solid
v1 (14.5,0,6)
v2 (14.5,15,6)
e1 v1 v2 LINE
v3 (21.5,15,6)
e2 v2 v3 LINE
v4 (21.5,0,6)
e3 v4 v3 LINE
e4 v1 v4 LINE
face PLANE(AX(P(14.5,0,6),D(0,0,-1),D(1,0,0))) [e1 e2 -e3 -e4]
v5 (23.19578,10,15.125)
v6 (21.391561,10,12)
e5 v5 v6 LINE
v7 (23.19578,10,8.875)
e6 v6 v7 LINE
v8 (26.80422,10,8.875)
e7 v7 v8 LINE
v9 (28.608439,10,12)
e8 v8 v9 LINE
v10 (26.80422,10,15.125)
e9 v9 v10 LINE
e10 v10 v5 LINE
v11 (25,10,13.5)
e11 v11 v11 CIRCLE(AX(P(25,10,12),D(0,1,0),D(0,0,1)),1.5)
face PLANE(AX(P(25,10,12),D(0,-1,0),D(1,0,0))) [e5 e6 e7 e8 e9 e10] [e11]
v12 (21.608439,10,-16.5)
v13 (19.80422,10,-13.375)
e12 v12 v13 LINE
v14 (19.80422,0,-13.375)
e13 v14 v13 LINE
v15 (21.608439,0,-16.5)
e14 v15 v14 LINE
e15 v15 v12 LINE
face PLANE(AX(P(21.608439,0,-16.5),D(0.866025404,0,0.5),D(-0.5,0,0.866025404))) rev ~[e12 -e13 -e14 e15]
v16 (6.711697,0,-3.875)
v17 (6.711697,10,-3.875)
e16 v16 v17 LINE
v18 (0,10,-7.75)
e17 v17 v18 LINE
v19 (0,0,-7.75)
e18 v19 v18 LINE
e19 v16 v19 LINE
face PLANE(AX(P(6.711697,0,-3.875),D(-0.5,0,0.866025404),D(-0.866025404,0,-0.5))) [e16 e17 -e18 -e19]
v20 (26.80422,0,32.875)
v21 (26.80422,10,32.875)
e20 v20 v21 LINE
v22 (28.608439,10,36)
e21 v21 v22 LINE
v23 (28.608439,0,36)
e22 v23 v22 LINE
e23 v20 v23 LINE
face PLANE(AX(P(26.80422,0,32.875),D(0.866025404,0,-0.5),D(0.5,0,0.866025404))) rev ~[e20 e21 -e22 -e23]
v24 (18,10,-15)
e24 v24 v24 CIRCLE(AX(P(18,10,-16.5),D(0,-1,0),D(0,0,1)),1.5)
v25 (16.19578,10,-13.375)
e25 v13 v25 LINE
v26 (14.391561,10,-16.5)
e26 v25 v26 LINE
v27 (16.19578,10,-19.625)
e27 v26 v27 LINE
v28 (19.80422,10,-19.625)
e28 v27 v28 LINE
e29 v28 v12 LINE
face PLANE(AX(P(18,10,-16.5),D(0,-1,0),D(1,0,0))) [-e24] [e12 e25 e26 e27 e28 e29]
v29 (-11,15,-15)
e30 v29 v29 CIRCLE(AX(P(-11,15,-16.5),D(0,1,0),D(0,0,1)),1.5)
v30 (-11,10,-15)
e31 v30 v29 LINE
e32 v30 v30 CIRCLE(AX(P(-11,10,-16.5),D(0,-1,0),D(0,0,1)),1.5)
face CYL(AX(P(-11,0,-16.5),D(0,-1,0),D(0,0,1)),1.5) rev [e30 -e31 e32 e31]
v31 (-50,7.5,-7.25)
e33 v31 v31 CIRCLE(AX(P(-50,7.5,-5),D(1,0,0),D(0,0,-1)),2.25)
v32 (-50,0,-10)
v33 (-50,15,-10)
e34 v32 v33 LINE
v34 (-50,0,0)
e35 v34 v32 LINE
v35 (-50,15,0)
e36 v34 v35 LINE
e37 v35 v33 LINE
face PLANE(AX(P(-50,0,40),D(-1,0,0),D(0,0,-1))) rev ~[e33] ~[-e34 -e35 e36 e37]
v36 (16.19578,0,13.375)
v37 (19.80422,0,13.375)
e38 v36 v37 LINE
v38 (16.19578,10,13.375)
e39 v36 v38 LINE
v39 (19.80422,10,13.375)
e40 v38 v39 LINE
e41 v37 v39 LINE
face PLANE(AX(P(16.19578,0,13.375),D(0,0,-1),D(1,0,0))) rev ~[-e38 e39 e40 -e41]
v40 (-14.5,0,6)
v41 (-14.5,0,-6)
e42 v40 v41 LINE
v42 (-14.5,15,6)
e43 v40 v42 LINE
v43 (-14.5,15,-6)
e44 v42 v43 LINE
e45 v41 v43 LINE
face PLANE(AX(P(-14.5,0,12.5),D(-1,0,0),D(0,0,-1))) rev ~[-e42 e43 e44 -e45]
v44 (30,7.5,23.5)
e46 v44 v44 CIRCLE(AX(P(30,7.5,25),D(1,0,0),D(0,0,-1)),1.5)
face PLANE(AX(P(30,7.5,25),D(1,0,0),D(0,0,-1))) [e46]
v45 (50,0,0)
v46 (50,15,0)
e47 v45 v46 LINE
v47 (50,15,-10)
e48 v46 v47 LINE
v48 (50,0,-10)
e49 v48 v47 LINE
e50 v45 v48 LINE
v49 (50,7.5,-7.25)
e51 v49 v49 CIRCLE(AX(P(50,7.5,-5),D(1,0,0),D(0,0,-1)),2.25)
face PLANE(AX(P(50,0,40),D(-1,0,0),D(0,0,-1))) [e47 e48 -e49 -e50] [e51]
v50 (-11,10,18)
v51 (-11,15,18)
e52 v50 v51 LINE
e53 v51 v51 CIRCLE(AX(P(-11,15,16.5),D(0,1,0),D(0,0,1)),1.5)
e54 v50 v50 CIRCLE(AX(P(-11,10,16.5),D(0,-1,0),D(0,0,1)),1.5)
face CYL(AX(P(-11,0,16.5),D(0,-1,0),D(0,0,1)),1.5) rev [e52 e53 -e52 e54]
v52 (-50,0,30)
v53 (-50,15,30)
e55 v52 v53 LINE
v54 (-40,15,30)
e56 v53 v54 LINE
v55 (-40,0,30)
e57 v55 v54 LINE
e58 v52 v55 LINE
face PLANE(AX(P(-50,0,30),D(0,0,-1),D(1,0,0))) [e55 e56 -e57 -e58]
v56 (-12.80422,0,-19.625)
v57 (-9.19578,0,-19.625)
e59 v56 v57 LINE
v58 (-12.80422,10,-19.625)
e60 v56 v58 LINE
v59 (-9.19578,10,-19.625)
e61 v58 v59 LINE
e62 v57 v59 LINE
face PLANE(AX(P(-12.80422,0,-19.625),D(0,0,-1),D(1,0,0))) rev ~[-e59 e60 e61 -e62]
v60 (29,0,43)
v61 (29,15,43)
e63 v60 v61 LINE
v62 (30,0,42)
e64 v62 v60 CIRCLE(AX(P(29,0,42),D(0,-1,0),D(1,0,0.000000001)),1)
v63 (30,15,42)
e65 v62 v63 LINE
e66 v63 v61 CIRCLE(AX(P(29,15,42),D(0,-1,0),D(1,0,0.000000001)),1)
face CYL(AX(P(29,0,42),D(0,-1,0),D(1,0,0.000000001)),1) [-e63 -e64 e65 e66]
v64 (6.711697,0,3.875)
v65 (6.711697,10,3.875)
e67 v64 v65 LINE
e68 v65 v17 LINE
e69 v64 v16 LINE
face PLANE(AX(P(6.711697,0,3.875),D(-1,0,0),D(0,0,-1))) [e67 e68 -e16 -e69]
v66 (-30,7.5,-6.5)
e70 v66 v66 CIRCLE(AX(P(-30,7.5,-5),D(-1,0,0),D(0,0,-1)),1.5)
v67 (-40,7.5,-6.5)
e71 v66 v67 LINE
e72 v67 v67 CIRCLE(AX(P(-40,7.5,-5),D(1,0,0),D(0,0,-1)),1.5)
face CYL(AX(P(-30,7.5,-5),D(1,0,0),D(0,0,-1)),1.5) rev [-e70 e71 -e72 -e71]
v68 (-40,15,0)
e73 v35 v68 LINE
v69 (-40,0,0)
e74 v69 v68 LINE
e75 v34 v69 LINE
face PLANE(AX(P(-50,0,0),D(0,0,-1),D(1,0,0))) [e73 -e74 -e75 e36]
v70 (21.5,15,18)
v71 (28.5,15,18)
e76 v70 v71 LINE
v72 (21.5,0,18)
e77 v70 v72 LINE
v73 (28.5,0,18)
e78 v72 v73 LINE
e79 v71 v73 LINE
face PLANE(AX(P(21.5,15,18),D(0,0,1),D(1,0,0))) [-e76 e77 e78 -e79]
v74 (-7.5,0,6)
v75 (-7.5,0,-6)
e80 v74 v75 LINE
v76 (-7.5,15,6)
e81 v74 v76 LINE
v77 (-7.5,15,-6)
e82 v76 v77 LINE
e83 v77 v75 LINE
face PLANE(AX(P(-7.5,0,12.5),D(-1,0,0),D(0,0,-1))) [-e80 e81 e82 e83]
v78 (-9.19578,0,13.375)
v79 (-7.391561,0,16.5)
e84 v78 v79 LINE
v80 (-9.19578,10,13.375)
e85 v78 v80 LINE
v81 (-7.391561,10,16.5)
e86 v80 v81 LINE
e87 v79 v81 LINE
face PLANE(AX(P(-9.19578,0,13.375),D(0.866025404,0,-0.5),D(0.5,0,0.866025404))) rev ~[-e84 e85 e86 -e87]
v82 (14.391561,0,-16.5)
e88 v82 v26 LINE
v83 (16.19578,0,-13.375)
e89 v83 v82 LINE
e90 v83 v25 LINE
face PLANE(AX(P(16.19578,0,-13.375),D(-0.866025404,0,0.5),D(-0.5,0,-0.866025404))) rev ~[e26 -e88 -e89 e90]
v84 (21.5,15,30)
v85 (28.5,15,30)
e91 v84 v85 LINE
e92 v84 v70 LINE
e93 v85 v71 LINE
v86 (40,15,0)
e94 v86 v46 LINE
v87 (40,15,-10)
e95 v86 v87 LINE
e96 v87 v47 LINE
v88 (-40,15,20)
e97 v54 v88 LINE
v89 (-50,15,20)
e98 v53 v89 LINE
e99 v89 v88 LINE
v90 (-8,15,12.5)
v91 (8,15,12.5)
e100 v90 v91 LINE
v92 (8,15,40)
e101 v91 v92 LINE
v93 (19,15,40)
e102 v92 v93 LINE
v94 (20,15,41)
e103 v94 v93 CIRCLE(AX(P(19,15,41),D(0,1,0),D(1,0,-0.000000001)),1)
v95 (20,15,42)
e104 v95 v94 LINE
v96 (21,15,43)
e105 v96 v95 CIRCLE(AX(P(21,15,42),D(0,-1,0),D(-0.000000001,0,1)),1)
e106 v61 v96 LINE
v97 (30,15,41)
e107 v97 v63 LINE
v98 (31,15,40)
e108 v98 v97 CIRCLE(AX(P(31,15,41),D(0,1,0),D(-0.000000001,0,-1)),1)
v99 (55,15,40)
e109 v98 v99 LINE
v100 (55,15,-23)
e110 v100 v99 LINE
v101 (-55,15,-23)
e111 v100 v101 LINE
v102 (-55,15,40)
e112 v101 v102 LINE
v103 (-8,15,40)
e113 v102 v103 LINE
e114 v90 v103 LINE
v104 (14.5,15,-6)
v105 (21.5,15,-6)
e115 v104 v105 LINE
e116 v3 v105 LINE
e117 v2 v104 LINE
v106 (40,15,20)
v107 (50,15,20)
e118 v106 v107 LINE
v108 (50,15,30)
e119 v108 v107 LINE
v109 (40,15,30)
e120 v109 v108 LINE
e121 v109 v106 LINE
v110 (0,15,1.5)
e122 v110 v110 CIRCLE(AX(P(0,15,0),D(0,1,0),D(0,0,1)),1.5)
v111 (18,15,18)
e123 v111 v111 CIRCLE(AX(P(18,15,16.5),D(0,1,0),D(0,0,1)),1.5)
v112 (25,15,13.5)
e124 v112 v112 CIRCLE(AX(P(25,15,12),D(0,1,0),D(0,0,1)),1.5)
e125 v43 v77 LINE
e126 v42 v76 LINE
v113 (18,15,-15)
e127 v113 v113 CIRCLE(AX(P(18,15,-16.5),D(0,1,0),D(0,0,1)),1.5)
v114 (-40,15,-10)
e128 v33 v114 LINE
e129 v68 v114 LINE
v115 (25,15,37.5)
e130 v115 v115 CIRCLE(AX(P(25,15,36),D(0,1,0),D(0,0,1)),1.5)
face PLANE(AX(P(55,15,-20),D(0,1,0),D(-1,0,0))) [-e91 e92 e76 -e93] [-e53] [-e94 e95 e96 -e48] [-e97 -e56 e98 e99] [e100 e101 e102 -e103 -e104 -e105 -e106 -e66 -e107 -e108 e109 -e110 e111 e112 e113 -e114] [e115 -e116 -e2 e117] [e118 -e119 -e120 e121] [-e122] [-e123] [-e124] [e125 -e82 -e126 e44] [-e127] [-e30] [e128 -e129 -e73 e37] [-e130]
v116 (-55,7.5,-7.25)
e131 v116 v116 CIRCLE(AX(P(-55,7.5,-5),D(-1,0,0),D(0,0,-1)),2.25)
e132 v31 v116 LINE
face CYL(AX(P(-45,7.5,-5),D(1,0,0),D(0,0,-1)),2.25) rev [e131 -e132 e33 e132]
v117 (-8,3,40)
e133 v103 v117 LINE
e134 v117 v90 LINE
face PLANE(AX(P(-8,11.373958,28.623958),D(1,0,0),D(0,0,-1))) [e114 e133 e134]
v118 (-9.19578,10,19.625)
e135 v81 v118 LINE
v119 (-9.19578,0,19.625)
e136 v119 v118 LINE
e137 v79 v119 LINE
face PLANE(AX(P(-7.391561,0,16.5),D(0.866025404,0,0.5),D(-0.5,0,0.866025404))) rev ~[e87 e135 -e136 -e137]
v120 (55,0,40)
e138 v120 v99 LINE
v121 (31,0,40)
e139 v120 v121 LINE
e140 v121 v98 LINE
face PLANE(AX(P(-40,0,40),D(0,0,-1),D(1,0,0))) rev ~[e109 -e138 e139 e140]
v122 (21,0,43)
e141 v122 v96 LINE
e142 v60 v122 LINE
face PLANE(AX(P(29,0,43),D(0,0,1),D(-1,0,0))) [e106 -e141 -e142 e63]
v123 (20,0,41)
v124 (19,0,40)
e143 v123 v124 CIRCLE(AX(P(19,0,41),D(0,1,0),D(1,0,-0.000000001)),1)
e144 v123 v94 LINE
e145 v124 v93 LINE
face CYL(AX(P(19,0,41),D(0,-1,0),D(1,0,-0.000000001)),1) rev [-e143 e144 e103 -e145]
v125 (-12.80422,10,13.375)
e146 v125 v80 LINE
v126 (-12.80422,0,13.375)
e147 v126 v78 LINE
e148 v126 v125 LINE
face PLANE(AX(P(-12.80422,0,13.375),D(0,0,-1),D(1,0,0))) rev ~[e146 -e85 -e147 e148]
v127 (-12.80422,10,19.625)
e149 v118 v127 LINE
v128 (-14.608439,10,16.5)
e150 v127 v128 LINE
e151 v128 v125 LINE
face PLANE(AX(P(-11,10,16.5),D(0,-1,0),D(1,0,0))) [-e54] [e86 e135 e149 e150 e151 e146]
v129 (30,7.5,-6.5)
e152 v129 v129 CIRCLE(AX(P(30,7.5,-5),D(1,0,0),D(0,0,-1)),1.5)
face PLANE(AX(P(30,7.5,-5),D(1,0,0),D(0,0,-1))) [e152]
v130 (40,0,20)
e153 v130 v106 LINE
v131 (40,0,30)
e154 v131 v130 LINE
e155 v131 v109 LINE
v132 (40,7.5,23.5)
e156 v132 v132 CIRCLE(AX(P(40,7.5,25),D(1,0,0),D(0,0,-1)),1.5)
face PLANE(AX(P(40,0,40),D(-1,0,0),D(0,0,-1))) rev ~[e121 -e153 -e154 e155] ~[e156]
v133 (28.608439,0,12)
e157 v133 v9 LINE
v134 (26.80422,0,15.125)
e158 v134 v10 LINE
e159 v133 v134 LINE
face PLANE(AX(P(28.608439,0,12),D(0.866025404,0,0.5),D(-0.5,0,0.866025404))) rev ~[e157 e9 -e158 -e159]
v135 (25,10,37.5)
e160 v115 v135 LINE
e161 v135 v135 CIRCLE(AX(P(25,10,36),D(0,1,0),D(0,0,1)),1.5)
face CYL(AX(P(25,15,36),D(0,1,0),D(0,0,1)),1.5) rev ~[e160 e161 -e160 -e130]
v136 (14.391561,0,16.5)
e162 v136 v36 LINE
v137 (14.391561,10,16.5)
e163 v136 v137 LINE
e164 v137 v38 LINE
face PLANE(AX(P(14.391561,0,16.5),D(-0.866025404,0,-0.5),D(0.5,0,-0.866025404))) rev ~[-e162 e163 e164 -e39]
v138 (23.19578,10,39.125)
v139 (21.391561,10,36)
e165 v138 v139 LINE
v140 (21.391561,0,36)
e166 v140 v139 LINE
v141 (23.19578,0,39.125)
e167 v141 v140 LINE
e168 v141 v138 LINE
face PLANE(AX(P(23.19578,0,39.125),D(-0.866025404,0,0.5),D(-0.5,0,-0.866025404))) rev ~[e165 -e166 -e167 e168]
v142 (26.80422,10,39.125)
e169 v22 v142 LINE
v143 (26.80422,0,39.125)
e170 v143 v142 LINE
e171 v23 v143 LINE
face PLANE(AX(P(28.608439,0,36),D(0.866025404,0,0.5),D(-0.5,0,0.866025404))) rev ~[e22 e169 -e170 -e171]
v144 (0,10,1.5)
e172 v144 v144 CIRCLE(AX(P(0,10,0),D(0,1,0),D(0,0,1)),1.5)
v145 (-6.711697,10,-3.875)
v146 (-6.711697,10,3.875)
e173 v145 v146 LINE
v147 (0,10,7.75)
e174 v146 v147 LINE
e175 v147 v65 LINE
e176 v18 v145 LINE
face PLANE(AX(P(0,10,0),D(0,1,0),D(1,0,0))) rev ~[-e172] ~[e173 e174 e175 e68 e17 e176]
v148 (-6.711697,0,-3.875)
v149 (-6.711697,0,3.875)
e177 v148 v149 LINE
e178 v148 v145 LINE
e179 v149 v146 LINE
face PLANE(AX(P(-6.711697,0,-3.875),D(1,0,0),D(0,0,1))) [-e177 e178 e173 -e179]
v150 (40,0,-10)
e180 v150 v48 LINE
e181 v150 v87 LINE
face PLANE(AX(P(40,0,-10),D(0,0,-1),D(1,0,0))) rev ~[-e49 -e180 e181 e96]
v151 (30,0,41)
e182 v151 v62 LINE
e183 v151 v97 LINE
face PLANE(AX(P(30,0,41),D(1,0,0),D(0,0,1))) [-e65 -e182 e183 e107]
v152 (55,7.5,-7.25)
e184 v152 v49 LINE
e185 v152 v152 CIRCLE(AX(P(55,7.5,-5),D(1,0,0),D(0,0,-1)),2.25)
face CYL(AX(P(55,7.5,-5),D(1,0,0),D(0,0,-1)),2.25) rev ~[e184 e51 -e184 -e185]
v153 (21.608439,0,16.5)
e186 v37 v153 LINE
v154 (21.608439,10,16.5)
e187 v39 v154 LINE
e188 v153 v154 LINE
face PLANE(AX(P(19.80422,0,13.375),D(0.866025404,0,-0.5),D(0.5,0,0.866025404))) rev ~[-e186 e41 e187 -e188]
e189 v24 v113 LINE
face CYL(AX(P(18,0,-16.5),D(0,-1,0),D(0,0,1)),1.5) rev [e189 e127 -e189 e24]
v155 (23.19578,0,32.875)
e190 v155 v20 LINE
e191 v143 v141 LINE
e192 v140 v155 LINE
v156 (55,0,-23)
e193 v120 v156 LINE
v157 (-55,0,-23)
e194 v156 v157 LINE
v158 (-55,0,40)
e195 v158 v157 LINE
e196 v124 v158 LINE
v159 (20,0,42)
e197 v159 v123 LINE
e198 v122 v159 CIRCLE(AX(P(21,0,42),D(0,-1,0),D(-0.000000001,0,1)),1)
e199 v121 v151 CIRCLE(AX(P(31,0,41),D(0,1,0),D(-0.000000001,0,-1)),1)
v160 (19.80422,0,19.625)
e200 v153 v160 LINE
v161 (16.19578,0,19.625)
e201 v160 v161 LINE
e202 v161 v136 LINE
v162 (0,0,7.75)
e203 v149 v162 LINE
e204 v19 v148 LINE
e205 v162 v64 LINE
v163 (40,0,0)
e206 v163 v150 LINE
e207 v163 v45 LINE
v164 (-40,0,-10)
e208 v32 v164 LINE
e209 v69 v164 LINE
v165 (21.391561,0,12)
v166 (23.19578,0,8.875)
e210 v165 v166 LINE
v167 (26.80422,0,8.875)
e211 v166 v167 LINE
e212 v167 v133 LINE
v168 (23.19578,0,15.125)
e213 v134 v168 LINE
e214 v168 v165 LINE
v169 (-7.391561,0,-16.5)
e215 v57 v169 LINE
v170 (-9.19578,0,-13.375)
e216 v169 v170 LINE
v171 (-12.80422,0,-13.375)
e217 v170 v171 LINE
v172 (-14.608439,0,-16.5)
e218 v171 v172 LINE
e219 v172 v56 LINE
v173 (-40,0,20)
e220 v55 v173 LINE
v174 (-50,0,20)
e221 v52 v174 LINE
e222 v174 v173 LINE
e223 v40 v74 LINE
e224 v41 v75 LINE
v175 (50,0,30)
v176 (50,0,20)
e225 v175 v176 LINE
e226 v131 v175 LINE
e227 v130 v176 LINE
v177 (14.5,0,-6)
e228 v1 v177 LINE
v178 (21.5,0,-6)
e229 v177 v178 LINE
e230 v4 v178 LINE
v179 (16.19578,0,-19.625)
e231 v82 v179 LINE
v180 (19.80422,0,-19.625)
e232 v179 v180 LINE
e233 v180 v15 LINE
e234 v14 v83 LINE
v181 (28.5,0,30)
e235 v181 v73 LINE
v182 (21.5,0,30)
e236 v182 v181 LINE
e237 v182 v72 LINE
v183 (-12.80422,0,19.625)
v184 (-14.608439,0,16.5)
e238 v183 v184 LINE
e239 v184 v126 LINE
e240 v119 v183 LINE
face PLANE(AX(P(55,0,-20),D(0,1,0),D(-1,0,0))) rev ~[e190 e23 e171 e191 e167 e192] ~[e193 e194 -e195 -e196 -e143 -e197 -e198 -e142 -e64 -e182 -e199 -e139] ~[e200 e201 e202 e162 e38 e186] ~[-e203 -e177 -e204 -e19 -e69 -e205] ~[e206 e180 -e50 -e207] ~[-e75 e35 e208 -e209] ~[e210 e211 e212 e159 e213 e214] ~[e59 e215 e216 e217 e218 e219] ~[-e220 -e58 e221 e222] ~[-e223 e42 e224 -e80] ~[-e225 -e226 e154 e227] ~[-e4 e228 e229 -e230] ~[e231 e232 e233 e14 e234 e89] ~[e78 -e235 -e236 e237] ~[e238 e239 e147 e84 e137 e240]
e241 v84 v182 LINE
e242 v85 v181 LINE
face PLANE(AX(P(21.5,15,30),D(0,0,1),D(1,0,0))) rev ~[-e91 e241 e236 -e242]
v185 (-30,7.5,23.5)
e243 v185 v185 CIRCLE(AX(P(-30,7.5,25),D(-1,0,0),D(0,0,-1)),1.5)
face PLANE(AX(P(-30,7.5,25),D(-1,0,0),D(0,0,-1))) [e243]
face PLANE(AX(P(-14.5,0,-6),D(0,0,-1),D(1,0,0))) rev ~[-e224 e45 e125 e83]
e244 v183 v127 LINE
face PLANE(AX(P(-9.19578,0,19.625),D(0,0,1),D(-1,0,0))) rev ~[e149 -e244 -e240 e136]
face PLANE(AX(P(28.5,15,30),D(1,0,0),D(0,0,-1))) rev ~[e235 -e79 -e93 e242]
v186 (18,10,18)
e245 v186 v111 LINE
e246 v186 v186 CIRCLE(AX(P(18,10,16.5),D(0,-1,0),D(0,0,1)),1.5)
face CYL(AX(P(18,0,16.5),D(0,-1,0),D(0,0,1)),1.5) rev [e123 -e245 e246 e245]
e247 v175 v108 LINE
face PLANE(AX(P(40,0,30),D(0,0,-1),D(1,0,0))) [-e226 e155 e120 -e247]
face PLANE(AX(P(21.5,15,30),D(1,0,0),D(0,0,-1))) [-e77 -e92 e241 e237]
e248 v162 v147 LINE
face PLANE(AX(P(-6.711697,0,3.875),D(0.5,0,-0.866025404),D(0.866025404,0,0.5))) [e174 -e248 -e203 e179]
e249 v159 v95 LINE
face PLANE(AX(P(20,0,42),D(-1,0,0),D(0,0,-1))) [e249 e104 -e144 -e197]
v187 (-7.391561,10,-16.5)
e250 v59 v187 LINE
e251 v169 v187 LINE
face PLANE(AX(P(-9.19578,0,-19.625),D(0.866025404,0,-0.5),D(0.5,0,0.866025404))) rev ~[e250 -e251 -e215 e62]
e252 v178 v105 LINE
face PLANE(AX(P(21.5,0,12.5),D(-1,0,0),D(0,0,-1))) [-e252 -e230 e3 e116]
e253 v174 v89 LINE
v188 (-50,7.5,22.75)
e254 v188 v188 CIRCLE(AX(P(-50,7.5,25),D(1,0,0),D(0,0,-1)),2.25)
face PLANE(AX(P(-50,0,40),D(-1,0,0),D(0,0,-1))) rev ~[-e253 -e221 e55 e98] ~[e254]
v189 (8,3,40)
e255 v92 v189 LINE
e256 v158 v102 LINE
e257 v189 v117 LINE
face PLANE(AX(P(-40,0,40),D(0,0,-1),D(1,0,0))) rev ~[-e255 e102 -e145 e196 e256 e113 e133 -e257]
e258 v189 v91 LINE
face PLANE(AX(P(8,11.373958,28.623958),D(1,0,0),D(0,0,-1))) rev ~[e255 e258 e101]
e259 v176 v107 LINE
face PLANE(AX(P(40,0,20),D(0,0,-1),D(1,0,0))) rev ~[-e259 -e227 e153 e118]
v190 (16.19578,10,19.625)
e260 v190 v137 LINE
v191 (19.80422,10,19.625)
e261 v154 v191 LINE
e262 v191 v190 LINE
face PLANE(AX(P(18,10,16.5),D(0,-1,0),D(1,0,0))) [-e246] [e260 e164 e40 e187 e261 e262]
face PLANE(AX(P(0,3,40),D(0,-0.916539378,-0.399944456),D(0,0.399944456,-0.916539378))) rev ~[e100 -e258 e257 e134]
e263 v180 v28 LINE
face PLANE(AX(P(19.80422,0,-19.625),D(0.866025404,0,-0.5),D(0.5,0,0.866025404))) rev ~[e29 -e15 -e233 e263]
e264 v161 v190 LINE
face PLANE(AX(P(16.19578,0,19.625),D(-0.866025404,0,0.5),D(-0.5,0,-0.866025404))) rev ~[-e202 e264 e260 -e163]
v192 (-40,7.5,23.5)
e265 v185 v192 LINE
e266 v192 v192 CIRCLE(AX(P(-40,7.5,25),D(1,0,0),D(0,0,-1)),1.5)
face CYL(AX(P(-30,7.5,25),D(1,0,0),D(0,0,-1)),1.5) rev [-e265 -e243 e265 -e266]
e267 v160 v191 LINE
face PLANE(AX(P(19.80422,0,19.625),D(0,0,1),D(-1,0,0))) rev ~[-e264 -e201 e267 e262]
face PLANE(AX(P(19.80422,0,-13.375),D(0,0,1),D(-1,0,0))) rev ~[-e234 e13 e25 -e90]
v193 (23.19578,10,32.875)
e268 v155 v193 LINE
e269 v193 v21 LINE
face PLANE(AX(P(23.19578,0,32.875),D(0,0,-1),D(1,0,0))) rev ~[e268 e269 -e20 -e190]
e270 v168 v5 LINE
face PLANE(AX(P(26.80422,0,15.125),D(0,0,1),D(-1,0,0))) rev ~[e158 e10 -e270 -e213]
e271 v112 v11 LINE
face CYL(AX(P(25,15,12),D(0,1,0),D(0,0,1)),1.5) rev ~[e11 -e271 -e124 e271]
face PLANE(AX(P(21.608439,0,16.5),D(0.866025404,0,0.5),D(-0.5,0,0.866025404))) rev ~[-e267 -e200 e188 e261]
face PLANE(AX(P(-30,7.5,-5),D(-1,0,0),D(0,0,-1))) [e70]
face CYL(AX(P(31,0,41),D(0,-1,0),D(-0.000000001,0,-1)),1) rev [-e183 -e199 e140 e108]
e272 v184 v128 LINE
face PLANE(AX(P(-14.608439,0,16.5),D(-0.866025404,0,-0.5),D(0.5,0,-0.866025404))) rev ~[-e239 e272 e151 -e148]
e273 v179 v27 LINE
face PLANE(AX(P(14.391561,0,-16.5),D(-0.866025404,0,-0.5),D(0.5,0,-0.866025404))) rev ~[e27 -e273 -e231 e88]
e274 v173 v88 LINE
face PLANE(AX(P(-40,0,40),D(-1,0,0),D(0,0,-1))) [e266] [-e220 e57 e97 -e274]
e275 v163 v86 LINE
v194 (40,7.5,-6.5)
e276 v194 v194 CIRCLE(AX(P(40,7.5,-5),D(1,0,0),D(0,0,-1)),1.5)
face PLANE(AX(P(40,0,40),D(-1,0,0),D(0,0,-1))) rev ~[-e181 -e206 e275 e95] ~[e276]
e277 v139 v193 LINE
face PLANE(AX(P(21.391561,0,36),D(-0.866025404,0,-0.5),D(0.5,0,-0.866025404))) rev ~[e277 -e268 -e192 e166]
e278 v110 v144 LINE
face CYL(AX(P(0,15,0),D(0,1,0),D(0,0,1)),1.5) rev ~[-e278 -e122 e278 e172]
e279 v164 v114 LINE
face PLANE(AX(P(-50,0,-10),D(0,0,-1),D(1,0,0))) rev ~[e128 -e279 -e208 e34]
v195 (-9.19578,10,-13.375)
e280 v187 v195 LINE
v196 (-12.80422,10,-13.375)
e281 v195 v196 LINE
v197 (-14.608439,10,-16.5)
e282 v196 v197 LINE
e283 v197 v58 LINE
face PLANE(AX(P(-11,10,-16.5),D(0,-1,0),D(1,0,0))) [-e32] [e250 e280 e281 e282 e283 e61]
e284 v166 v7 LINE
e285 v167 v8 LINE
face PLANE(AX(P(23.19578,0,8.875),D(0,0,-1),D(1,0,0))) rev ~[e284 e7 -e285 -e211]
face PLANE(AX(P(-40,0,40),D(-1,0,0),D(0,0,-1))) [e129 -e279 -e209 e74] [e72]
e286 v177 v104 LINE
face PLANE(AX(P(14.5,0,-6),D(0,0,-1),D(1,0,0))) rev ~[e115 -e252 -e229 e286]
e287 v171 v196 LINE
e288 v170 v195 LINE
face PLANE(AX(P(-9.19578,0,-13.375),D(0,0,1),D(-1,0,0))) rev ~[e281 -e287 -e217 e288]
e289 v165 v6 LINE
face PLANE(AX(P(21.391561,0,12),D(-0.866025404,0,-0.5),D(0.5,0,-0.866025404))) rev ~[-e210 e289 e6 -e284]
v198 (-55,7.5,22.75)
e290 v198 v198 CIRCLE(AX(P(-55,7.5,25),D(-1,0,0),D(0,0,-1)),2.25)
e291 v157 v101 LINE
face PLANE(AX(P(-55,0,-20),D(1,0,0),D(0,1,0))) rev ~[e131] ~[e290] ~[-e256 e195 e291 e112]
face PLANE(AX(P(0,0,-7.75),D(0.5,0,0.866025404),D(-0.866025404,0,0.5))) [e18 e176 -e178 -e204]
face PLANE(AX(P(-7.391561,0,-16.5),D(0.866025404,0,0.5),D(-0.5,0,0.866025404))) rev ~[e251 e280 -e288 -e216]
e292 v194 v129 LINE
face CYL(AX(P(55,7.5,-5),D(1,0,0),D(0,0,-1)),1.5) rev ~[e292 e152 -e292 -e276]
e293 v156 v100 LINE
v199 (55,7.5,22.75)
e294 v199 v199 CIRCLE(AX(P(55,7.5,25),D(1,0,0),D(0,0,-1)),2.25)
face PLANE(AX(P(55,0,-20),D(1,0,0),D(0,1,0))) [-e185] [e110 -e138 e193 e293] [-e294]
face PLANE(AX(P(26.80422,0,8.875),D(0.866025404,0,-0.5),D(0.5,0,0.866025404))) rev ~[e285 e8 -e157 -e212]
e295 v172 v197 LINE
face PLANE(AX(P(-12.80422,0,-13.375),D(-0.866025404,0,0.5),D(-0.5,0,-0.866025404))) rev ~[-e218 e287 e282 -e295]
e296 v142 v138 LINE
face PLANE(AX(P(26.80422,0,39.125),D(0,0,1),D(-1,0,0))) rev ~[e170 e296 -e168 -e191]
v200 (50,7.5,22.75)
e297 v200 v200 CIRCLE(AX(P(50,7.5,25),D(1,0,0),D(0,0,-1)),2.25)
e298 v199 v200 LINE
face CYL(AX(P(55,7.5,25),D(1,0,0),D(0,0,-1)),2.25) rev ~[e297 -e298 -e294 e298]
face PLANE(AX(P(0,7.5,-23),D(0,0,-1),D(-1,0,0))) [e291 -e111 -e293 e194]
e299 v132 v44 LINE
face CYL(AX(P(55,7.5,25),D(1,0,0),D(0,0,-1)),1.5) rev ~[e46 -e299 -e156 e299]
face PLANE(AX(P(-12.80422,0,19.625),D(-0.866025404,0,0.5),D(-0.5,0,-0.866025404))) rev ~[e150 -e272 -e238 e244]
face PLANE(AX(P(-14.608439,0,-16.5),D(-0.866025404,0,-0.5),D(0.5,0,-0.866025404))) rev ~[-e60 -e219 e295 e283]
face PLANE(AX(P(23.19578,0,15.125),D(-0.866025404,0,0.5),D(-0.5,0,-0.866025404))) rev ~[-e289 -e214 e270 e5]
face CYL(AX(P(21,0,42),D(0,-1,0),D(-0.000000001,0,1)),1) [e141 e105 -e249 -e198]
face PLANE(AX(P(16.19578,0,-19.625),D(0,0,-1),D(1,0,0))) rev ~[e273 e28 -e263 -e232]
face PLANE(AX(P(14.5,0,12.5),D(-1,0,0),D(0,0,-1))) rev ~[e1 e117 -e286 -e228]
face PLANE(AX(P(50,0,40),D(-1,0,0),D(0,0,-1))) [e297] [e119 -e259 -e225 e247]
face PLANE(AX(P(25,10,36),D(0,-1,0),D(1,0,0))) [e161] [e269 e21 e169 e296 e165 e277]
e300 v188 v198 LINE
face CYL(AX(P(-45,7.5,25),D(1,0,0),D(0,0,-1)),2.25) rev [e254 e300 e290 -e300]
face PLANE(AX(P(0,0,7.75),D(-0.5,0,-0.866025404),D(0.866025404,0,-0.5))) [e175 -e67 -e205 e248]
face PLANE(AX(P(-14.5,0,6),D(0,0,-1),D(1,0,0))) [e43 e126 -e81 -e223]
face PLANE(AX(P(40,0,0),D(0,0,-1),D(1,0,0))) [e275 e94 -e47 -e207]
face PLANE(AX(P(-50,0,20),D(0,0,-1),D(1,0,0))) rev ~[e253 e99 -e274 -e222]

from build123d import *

# Parameters (mm, degrees)
CROQUIS1_W              = 80
CROQUIS1_H              = 60
CROQUIS1_R              = 1.5
CROQUIS1_W_2            = 7
CROQUIS1_H_2            = 25
CROQUIS1_W_3            = 10
CROQUIS1_H_3            = 20
CROQUIS1_H_4            = 10
CROQUIS1_W_4            = 5
CROQUIS1_H_5            = 6.5
SALIENTE_EXTRUIR1_DEPTH = 15
CORTAR_EXTRUIR1_DEPTH   = 10
CROQUIS3_R              = 1.5
CORTAR_EXTRUIR2_DEPTH   = 25
CORTAR_EXTRUIR3_START   = -25
CROQUIS6_R              = 1.5
CORTAR_EXTRUIR3_DEPTH   = 25
CROQUIS8_W              = 15
CROQUIS8_H              = 17.838651154
CROQUIS8_R              = 1.5
SALIENTE_EXTRUIR2_DEPTH = 5
CORTAR_EXTRUIR4_START   = -55
CORTAR_EXTRUIR4_DEPTH   = 8
CROQUIS10_R             = 1.5
CROQUIS10_W             = 7
CROQUIS10_H             = 12
CORTAR_EXTRUIR5_DEPTH   = 16
CROQUIS12_W             = 110
CROQUIS12_H             = 15
SALIENTE_EXTRUIR3_DEPTH = 3
CORTAR_EXTRUIR6_DEPTH   = 10
SALIENTE_EXTRUIR4_DEPTH = 15
CROQUIS15_R             = 2.25
CORTAR_EXTRUIR7_DEPTH   = 10
CORTAR_EXTRUIR8_START   = -10
CROQUIS16_R             = 2.25
CORTAR_EXTRUIR8_DEPTH   = 10


with BuildPart() as part:
    # Croquis1 → Saliente-Extruir1 (new body)
    # profile 1 of 13: a face of its own
    with BuildSketch(Plane(origin=(0, 0, 0), x_dir=(1, 0, 0), z_dir=(0, 1, 0))):
        with Locations((0, -10)):
            Rectangle(CROQUIS1_W, CROQUIS1_H)
        with Locations(Location((18, -16.5, 0), (0, 0, 270))):
            Circle(CROQUIS1_R, mode=Mode.SUBTRACT)
        with Locations(Location((-11, -16.5, 0), (0, 0, 270))):
            Circle(CROQUIS1_R, mode=Mode.SUBTRACT)
        with Locations(Location((18, 16.5, 0), (0, 0, 270))):
            Circle(CROQUIS1_R, mode=Mode.SUBTRACT)
        with Locations(Location((-11, 16.5, 0), (0, 0, 270))):
            Circle(CROQUIS1_R, mode=Mode.SUBTRACT)
        with Locations((18, 0)):
            Rectangle(CROQUIS1_W_2, CROQUIS1_H_2, mode=Mode.SUBTRACT)
        Polygon((6.711696879, 3.875), (0, 7.75), (-6.711696879, 3.875), (-6.711696879, -3.875), (0, -7.75), (6.711696879, -3.875), align=None, mode=Mode.SUBTRACT)
        with Locations((-11, 0)):
            Rectangle(CROQUIS1_W_2, CROQUIS1_H_2, mode=Mode.SUBTRACT)
    # profile 2 of 13: a face of its own
    with BuildSketch(Plane(origin=(0, 0, 0), x_dir=(1, 0, 0), z_dir=(0, 1, 0))):
        with Locations((-45, -10)):
            Rectangle(CROQUIS1_W_3, CROQUIS1_H_3)
    # profile 3 of 13: a face of its own
    with BuildSketch(Plane(origin=(0, 0, 0), x_dir=(1, 0, 0), z_dir=(0, 1, 0))):
        with Locations((-45, -35)):
            Rectangle(CROQUIS1_W_3, CROQUIS1_H_4)
    # profile 4 of 13: a face of its own
    with BuildSketch(Plane(origin=(0, 0, 0), x_dir=(1, 0, 0), z_dir=(0, 1, 0))):
        with Locations((-52.5, -10)):
            Rectangle(CROQUIS1_W_4, CROQUIS1_H)
    # profile 5 of 13: a face of its own
    with BuildSketch(Plane(origin=(0, 0, 0), x_dir=(1, 0, 0), z_dir=(0, 1, 0))):
        with Locations((-45, 15)):
            Rectangle(CROQUIS1_W_3, CROQUIS1_H_4)
    # profile 6 of 13: a face of its own
    with BuildSketch(Plane(origin=(0, 0, 0), x_dir=(1, 0, 0), z_dir=(0, 1, 0))):
        with Locations((45, 15)):
            Rectangle(CROQUIS1_W_3, CROQUIS1_H_4)
    # profile 7 of 13: a face of its own
    with BuildSketch(Plane(origin=(0, 0, 0), x_dir=(1, 0, 0), z_dir=(0, 1, 0))):
        with Locations((52.5, -10)):
            Rectangle(CROQUIS1_W_4, CROQUIS1_H)
    # profile 8 of 13: a face of its own
    with BuildSketch(Plane(origin=(0, 0, 0), x_dir=(1, 0, 0), z_dir=(0, 1, 0))):
        with Locations((45, -10)):
            Rectangle(CROQUIS1_W_3, CROQUIS1_H_3)
    # profile 9 of 13: a face of its own
    with BuildSketch(Plane(origin=(0, 0, 0), x_dir=(1, 0, 0), z_dir=(0, 1, 0))):
        with Locations((45, -35)):
            Rectangle(CROQUIS1_W_3, CROQUIS1_H_4)
    # profile 10 of 13: a face of its own
    with BuildSketch(Plane(origin=(0, 0, 0), x_dir=(1, 0, 0), z_dir=(0, 1, 0))):
        with Locations((-11, 9.25)):
            Rectangle(CROQUIS1_W_2, CROQUIS1_H_5)
    # profile 11 of 13: a face of its own
    with BuildSketch(Plane(origin=(0, 0, 0), x_dir=(1, 0, 0), z_dir=(0, 1, 0))):
        with Locations((-11, -9.25)):
            Rectangle(CROQUIS1_W_2, CROQUIS1_H_5)
    # profile 12 of 13: a face of its own
    with BuildSketch(Plane(origin=(0, 0, 0), x_dir=(1, 0, 0), z_dir=(0, 1, 0))):
        with Locations((18, 9.25)):
            Rectangle(CROQUIS1_W_2, CROQUIS1_H_5)
    # profile 13 of 13: a face of its own
    with BuildSketch(Plane(origin=(0, 0, 0), x_dir=(1, 0, 0), z_dir=(0, 1, 0))):
        with Locations((18, -9.25)):
            Rectangle(CROQUIS1_W_2, CROQUIS1_H_5)
    extrude(amount=SALIENTE_EXTRUIR1_DEPTH)

    # Croquis2 → Cortar-Extruir1 (cut)
    with BuildSketch(Plane.XZ):
        Polygon((-7.391560818, 16.5), (-9.195780409, 19.625), (-12.804219591, 19.625), (-14.608439182, 16.5), (-12.804219591, 13.375), (-9.195780409, 13.375), align=None)
        Polygon((21.608439182, 16.5), (19.804219591, 19.625), (16.195780409, 19.625), (14.391560818, 16.5), (16.195780409, 13.375), (19.804219591, 13.375), align=None)
        Polygon((-7.391560818, -16.5), (-9.195780409, -13.375), (-12.804219591, -13.375), (-14.608439182, -16.5), (-12.804219591, -19.625), (-9.195780409, -19.625), align=None)
        Polygon((21.608439182, -16.5), (19.804219591, -13.375), (16.195780409, -13.375), (14.391560818, -16.5), (16.195780409, -19.625), (19.804219591, -19.625), align=None)
    extrude(amount=-CORTAR_EXTRUIR1_DEPTH, mode=Mode.SUBTRACT)

    # Croquis3 → Cortar-Extruir2 (cut)
    with BuildSketch(Plane(origin=(55, 0, 0), x_dir=(0, 0, -1), z_dir=(1, 0, 0))):
        with Locations((-25, 7.5)):
            Circle(CROQUIS3_R)
        with Locations((5, 7.5)):
            Circle(CROQUIS3_R)
    extrude(amount=-CORTAR_EXTRUIR2_DEPTH, mode=Mode.SUBTRACT)

    # Croquis6 → Cortar-Extruir3 (cut)
    with BuildSketch(Plane.ZY.offset(55).offset(CORTAR_EXTRUIR3_START)):
        with Locations(Location((-5, 7.5, 0), (0, 0, 180))):
            Circle(CROQUIS6_R)
        with Locations(Location((25, 7.5, 0), (0, 0, 180))):
            Circle(CROQUIS6_R)
    extrude(amount=CORTAR_EXTRUIR3_DEPTH, mode=Mode.SUBTRACT)

    # Croquis8 → Saliente-Extruir2 (add)
    with BuildSketch(Plane(origin=(0, 15, 0), x_dir=(1, 0, 0), z_dir=(0, 1, 0))):
        Rectangle(CROQUIS8_W, CROQUIS8_H)
        with Locations(Location((0, 0, 0), (0, 0, 270))):
            Circle(CROQUIS8_R, mode=Mode.SUBTRACT)
    extrude(amount=-SALIENTE_EXTRUIR2_DEPTH)

    # Croquis9 → Cortar-Extruir4 (cut, symmetric)
    with BuildSketch(Plane(origin=(55, 0, 0), x_dir=(0, 0, -1), z_dir=(1, 0, 0)).offset(CORTAR_EXTRUIR4_START)):
        Polygon((-40, 3), (-12.5, 15), (-40, 15), align=None)
    extrude(amount=CORTAR_EXTRUIR4_DEPTH, both=True, mode=Mode.SUBTRACT)

    # Croquis10 → Cortar-Extruir5 (cut)
    with BuildSketch(Plane(origin=(0, 15, 0), x_dir=(1, 0, 0), z_dir=(0, 1, 0))):
        with Locations(Location((25, -12, 0), (0, 0, 270))):
            Circle(CROQUIS10_R)
        with Locations(Location((25, -36, 0), (0, 0, 270))):
            Circle(CROQUIS10_R)
        with Locations((25, -24)):
            Rectangle(CROQUIS10_W, CROQUIS10_H)
    extrude(amount=-CORTAR_EXTRUIR5_DEPTH, mode=Mode.SUBTRACT)

    # Croquis12 → Saliente-Extruir3 (add)
    with BuildSketch(Plane(origin=(0, 0, -20), x_dir=(-1, 0, 0), z_dir=(0, 0, -1))):
        with Locations((0, 7.5)):
            Rectangle(CROQUIS12_W, CROQUIS12_H)
    extrude(amount=SALIENTE_EXTRUIR3_DEPTH)

    # Croquis13 → Cortar-Extruir6 (cut)
    with BuildSketch(Plane.XZ):
        Polygon((28.608439182, 12), (26.804219591, 15.125), (23.195780409, 15.125), (21.391560818, 12), (23.195780409, 8.875), (26.804219591, 8.875), align=None)
        Polygon((28.608439182, 36), (26.804219591, 39.125), (23.195780409, 39.125), (21.391560818, 36), (23.195780409, 32.875), (26.804219591, 32.875), align=None)
    extrude(amount=-CORTAR_EXTRUIR6_DEPTH, mode=Mode.SUBTRACT)

    # Croquis14 → Saliente-Extruir4 (add)
    with BuildSketch(Plane.XZ):
        with BuildLine():
            Line((30, 41), (30, 42))
            ThreePointArc((30, 42), (29.707106781, 42.707106781), (29, 43))
            Line((29, 43), (21, 43))
            ThreePointArc((21, 43), (20.292893219, 42.707106781), (20, 42))
            Line((20, 42), (20, 41))
            ThreePointArc((20, 41), (19.707106781, 40.292893219), (19, 40))
            Line((19, 40), (31, 40))
            ThreePointArc((31, 40), (30.292893219, 40.292893219), (30, 41))
        make_face()
    extrude(amount=-SALIENTE_EXTRUIR4_DEPTH)

    # Croquis15 → Cortar-Extruir7 (cut)
    with BuildSketch(Plane(origin=(55, 0, 0), x_dir=(0, 0, -1), z_dir=(1, 0, 0))):
        with Locations((-25, 7.5)):
            Circle(CROQUIS15_R)
        with Locations((5, 7.5)):
            Circle(CROQUIS15_R)
    extrude(amount=-CORTAR_EXTRUIR7_DEPTH, mode=Mode.SUBTRACT)

    # Croquis16 → Cortar-Extruir8 (cut)
    with BuildSketch(Plane.ZY.offset(55).offset(CORTAR_EXTRUIR8_START)):
        with Locations(Location((-5, 7.5, 0), (0, 0, 180))):
            Circle(CROQUIS16_R)
        with Locations(Location((25, 7.5, 0), (0, 0, 180))):
            Circle(CROQUIS16_R)
    extrude(amount=CORTAR_EXTRUIR8_DEPTH, mode=Mode.SUBTRACT)


solid = part.part
